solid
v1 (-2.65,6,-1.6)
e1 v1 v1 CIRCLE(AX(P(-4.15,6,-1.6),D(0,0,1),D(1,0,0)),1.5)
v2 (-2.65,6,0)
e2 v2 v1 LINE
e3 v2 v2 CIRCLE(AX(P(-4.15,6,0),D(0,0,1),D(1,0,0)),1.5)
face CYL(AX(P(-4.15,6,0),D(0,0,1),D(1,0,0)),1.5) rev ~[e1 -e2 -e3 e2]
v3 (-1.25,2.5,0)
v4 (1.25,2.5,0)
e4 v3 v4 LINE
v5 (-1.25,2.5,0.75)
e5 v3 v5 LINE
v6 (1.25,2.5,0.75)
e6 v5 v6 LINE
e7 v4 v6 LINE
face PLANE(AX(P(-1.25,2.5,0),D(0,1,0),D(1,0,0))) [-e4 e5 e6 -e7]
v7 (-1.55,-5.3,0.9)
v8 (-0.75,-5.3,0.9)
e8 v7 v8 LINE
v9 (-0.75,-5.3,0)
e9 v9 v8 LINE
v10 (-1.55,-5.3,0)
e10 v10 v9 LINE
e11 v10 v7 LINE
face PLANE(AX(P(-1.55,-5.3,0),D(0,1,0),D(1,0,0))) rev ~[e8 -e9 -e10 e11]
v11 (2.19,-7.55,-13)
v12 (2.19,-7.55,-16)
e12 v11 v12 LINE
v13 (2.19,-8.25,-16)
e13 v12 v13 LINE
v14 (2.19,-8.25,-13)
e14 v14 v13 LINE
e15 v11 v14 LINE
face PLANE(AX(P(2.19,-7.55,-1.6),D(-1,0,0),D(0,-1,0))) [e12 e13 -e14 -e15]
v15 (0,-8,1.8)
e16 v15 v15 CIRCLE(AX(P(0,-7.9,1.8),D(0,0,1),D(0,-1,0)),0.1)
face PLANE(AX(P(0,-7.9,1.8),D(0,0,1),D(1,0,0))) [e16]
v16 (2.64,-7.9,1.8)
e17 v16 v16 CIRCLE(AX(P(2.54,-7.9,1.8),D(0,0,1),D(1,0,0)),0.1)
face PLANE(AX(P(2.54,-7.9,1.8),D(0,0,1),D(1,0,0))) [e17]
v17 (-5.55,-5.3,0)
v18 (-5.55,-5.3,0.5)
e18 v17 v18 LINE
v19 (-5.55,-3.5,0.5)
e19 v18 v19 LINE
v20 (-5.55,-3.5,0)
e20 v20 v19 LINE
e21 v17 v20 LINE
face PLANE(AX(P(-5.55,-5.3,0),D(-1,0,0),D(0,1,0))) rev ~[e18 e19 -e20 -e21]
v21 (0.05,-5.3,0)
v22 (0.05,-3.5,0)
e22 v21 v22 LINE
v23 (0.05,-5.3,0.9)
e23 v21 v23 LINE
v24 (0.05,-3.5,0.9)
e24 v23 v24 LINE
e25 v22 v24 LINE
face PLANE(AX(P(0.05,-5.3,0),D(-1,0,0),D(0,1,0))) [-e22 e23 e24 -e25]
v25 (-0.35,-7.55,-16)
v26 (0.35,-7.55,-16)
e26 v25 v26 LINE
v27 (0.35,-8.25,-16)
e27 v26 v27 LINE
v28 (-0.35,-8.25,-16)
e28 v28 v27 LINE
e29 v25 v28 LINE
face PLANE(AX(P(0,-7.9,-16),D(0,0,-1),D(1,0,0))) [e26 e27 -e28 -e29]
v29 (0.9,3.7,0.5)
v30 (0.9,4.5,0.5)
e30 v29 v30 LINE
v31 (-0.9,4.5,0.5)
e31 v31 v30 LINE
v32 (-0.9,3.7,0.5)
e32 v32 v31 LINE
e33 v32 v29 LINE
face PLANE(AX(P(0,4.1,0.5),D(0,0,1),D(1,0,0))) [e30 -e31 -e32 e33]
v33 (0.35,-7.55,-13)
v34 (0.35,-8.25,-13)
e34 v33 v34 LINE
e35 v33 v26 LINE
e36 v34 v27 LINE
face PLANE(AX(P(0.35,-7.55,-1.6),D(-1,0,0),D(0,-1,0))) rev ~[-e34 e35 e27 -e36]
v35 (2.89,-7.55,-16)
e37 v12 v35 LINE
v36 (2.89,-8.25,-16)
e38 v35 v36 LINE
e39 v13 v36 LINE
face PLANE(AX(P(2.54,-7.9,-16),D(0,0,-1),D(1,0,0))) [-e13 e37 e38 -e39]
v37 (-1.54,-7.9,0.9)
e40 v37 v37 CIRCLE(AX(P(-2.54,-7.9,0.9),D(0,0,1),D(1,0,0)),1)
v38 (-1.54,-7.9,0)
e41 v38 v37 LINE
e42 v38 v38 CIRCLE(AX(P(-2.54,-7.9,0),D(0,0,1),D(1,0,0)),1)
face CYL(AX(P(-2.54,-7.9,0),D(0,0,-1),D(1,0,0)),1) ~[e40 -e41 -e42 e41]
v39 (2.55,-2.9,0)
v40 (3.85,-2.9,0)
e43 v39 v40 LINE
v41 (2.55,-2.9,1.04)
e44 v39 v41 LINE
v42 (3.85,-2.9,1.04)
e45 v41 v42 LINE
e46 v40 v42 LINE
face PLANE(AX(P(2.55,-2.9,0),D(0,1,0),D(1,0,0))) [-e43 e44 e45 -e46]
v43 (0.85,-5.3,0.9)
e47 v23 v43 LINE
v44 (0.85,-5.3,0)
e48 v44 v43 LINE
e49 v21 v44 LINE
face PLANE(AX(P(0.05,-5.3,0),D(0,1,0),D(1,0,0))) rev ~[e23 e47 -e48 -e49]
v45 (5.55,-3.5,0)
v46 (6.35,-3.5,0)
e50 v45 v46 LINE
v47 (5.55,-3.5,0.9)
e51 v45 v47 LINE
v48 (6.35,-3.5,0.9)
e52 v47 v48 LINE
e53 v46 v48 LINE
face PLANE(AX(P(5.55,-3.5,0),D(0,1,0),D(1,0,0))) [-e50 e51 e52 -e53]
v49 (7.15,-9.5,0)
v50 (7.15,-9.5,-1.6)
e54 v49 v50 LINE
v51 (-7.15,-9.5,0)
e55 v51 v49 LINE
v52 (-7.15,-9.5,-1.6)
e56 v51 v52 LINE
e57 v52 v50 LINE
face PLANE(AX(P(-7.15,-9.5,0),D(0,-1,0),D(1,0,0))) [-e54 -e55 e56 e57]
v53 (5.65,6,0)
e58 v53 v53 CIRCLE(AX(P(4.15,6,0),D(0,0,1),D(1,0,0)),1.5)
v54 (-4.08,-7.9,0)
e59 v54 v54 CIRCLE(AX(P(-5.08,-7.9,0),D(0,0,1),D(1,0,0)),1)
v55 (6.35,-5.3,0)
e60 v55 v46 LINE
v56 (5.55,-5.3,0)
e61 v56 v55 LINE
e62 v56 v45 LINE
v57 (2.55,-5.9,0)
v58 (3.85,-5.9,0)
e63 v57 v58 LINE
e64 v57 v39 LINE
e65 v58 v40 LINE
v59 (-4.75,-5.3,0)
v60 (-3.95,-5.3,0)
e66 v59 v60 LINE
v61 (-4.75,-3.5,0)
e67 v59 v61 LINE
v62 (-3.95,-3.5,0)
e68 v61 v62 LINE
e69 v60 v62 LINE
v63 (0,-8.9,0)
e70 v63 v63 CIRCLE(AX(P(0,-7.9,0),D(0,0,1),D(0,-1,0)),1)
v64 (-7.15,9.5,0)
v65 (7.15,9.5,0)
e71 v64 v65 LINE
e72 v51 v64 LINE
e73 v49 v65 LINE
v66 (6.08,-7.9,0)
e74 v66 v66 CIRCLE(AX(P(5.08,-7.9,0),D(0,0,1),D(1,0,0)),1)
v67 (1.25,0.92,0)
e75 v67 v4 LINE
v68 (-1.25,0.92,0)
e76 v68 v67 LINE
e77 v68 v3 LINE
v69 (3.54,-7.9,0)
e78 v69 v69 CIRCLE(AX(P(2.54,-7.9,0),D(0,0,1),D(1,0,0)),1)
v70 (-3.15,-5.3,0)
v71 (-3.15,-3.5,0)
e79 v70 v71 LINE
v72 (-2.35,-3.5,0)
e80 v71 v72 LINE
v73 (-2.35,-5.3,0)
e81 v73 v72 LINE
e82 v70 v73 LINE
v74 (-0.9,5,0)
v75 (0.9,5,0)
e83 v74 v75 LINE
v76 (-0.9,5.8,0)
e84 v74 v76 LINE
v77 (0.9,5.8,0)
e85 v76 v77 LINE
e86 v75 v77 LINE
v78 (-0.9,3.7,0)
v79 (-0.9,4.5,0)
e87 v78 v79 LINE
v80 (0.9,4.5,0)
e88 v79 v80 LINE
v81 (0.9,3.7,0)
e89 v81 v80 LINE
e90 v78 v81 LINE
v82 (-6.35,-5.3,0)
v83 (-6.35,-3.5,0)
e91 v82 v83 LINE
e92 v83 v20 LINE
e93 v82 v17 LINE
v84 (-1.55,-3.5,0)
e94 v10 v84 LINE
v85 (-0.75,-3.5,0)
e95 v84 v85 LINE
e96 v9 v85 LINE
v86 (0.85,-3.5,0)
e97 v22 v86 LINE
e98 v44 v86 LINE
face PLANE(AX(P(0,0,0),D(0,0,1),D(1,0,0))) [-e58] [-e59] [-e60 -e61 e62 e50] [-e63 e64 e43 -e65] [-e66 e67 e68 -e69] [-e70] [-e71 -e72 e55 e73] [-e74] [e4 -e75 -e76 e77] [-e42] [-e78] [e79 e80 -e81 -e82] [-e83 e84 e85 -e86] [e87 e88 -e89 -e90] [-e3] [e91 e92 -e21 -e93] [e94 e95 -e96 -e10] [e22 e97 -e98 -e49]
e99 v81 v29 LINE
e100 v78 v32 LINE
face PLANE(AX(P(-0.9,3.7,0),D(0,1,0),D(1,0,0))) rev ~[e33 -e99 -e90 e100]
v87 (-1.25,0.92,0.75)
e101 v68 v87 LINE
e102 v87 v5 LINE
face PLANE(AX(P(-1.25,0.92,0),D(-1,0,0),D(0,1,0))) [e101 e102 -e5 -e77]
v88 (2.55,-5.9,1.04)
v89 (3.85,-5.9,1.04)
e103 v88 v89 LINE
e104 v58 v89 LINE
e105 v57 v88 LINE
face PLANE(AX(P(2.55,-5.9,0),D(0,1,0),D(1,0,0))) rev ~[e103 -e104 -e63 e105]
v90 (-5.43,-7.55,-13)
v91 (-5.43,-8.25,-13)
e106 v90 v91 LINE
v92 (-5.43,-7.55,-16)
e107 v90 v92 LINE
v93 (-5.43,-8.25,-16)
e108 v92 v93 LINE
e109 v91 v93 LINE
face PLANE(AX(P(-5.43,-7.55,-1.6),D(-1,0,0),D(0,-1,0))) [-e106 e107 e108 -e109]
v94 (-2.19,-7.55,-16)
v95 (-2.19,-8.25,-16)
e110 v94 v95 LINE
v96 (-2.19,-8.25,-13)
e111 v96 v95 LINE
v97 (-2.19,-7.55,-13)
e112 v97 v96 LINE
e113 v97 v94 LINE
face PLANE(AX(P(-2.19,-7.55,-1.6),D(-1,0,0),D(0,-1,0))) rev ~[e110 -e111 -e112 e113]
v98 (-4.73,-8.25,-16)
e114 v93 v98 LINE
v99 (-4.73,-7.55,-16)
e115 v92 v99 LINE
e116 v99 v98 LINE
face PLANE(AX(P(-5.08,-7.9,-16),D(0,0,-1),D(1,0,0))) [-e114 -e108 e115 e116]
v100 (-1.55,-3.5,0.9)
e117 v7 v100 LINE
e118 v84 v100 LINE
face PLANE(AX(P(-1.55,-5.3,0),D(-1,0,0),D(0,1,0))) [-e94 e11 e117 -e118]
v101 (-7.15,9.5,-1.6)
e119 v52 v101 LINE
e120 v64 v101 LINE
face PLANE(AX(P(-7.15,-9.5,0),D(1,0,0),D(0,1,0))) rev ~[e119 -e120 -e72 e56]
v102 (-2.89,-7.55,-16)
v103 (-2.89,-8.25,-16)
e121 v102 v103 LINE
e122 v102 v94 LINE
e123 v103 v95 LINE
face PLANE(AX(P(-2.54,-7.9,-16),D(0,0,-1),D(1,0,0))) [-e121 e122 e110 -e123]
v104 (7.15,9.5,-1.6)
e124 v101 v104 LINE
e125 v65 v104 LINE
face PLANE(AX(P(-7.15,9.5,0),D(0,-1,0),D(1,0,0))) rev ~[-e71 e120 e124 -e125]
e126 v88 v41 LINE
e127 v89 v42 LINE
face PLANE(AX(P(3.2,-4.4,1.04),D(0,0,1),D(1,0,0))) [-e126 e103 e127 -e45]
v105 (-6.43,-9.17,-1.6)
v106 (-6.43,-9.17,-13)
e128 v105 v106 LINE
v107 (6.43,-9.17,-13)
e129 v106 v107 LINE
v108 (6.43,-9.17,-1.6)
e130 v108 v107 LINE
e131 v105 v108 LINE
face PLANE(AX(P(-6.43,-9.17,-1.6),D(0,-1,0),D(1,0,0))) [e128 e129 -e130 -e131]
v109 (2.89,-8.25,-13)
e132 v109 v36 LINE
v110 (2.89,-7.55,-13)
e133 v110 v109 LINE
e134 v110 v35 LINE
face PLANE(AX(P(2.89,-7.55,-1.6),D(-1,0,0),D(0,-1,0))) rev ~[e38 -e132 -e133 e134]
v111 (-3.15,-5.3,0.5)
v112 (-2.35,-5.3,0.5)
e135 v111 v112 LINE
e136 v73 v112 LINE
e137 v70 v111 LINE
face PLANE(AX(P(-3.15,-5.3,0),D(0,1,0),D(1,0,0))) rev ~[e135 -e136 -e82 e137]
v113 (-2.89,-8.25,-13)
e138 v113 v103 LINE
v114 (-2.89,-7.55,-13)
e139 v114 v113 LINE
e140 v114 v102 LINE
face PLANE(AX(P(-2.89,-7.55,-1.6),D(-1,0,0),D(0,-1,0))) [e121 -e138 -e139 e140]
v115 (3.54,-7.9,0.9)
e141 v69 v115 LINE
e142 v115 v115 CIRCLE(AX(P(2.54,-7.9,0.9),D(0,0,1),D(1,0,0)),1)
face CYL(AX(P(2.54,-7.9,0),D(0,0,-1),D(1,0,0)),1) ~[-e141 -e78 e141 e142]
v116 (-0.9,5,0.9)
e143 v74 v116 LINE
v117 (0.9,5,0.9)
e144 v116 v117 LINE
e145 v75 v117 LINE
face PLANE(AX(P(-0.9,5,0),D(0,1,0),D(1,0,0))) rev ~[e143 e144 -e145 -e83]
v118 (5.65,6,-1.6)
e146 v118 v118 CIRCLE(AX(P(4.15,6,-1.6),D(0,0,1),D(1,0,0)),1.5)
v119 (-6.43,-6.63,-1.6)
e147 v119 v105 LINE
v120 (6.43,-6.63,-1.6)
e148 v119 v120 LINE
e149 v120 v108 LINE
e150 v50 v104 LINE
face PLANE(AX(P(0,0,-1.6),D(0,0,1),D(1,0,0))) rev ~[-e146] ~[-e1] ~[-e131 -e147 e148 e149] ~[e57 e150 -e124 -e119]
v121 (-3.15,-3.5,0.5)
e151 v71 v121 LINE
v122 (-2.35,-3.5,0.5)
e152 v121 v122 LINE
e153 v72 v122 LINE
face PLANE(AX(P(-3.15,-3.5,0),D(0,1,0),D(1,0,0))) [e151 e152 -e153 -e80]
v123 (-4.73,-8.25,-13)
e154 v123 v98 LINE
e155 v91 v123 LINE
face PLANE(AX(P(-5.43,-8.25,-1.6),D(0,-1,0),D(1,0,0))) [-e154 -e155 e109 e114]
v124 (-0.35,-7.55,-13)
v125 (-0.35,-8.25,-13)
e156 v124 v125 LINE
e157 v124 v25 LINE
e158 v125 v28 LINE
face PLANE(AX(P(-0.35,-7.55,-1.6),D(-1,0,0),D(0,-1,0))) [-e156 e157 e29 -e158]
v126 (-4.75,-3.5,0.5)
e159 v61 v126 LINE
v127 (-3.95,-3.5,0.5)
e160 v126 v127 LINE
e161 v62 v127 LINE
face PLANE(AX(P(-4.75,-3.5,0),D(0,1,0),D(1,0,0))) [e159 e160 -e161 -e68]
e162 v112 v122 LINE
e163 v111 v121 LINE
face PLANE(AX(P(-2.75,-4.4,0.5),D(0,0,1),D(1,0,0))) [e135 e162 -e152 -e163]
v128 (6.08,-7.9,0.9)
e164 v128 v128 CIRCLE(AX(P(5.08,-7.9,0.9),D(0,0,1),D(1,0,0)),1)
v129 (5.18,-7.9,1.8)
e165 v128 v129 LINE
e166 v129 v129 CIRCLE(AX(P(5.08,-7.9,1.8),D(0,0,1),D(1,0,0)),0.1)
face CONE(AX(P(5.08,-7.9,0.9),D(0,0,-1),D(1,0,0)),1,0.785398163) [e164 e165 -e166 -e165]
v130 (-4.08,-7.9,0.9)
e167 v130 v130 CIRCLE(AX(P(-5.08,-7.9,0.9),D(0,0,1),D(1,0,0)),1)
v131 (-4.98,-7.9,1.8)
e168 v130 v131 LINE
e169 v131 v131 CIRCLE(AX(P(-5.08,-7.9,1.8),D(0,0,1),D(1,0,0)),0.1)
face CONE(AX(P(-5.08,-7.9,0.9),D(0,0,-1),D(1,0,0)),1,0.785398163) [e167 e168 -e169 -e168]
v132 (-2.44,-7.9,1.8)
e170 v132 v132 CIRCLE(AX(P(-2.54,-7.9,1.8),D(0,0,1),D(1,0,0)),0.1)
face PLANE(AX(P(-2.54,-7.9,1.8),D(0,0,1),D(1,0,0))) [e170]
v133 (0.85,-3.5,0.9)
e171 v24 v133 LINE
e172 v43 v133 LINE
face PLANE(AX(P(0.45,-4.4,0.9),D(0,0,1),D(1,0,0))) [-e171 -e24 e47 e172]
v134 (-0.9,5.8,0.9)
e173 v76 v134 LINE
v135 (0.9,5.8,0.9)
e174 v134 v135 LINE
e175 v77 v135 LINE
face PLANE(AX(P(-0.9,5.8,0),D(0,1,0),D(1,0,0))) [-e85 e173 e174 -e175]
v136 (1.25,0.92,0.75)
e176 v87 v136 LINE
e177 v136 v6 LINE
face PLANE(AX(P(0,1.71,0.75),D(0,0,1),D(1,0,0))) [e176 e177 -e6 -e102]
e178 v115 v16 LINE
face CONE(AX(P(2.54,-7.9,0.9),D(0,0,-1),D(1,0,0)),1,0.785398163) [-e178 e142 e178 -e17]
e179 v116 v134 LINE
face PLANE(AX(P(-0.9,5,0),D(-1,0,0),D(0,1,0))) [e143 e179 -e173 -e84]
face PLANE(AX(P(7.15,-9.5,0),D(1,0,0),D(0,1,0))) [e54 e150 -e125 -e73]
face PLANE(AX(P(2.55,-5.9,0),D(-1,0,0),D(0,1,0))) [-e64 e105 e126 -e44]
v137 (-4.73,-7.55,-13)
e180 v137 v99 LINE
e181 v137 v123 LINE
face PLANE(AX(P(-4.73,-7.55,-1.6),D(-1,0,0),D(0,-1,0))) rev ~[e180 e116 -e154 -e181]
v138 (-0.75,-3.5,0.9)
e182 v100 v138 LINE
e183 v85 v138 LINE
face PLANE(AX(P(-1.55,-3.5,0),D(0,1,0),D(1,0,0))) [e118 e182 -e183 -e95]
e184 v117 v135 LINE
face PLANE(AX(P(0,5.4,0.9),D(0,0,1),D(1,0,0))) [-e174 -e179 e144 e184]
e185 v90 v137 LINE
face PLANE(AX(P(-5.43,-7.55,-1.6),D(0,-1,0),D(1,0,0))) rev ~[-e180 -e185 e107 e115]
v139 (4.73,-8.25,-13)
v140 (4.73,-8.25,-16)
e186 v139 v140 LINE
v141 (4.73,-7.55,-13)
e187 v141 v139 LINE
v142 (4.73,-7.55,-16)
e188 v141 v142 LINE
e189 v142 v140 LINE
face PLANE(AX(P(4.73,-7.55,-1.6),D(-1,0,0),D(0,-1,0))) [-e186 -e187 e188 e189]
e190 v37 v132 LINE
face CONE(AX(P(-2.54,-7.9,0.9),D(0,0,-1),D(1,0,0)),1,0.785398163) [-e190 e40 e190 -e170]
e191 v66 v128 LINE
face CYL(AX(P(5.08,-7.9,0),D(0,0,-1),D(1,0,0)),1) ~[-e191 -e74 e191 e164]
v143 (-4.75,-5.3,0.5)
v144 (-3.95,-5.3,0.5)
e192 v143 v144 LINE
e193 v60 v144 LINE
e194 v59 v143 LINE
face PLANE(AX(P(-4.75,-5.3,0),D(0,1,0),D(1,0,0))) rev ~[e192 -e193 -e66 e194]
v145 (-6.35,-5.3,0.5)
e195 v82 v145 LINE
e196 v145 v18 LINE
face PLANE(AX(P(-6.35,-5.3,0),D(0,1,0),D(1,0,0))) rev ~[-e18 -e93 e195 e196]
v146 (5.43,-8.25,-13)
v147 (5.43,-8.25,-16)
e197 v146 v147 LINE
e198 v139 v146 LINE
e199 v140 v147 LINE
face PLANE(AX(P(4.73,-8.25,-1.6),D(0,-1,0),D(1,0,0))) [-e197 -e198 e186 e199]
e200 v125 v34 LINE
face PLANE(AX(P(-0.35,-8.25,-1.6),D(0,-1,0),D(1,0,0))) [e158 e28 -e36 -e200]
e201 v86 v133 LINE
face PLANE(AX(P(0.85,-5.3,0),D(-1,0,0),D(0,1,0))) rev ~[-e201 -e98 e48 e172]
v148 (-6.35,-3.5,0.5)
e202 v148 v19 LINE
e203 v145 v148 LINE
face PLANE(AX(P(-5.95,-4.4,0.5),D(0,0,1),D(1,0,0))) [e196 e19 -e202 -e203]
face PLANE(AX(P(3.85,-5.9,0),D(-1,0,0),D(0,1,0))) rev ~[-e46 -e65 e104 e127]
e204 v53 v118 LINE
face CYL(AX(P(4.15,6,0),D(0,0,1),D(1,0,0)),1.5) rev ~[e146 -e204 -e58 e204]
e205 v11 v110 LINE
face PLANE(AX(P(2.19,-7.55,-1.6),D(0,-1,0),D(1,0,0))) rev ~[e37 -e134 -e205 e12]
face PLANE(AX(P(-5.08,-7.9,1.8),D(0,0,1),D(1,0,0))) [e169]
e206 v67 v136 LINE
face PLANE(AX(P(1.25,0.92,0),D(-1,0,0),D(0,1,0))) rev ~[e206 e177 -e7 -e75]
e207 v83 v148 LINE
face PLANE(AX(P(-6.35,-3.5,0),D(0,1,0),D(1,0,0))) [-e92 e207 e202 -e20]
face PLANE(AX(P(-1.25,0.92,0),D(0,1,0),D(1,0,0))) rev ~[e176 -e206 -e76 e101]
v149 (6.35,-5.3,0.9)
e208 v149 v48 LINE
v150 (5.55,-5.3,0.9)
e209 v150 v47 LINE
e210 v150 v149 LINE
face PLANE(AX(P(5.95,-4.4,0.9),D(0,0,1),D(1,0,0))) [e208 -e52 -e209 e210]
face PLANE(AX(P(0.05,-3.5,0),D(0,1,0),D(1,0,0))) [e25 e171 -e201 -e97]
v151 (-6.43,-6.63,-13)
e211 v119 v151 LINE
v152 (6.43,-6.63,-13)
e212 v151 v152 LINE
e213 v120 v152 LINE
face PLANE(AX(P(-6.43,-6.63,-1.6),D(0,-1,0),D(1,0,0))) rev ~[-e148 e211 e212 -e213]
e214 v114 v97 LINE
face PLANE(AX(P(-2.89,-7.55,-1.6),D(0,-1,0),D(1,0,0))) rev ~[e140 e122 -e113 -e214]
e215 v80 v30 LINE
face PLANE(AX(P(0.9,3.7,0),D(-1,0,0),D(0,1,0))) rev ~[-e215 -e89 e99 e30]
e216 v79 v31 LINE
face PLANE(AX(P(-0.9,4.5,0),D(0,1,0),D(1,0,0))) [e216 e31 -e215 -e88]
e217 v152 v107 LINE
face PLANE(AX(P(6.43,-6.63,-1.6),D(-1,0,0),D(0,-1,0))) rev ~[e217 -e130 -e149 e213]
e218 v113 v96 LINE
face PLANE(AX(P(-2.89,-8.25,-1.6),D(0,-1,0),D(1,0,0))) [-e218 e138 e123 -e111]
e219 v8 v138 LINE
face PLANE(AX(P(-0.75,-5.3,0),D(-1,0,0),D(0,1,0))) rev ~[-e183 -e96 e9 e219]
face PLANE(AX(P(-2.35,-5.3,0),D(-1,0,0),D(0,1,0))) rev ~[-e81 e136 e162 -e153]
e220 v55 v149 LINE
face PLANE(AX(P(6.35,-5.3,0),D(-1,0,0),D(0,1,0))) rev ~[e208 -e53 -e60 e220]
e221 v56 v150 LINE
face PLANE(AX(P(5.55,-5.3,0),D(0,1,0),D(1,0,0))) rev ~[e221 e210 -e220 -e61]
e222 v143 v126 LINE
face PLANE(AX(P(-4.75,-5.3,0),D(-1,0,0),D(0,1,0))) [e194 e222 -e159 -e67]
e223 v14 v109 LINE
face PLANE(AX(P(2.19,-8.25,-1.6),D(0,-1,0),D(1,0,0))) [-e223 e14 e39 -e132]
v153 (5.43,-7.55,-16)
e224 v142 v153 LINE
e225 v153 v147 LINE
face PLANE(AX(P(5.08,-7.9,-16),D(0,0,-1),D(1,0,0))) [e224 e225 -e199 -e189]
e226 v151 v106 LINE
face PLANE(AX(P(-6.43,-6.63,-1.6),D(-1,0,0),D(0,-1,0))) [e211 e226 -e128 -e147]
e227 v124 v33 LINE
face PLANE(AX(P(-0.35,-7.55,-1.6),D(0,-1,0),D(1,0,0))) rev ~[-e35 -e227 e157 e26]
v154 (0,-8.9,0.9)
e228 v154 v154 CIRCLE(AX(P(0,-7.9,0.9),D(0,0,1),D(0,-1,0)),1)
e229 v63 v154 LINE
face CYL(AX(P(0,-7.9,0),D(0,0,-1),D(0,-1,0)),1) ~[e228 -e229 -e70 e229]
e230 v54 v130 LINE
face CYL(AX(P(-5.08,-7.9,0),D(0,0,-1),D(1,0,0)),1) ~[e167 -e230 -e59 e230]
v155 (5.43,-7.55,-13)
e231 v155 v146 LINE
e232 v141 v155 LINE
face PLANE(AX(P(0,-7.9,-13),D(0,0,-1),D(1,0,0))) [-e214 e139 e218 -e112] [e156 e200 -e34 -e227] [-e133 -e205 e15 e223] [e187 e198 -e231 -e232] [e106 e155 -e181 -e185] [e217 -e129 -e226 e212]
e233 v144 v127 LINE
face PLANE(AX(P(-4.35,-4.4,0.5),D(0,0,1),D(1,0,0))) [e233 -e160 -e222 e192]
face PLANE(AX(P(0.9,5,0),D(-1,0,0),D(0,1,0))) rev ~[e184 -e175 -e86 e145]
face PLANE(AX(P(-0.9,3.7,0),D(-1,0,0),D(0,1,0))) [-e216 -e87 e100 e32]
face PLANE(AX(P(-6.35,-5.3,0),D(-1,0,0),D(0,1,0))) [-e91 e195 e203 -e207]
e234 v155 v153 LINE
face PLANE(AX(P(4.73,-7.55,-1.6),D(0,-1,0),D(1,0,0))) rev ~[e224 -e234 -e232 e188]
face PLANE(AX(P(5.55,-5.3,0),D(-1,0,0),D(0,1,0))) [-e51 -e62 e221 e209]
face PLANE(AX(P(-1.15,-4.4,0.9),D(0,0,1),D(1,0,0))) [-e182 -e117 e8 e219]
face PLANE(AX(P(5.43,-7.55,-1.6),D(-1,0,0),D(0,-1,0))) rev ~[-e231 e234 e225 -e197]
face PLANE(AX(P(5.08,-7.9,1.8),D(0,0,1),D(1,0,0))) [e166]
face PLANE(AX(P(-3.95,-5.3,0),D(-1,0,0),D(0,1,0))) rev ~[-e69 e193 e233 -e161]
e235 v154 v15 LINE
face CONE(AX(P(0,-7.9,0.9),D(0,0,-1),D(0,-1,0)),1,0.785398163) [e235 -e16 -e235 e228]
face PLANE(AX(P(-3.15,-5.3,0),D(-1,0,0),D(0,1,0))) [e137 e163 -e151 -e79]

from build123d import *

# Parameters (mm, degrees)
F0_W      = 14.3
F0_H      = 19
F0_R      = 1
F0_W_2    = 0.8
F0_H_2    = 1.8
F0_W_3    = 1.3
F0_H_3    = 3
F0_W_4    = 2.5
F0_H_4    = 1.58
F0_W_5    = 1.8
F0_H_5    = 0.8
F0_R_2    = 1.5
F1_DEPTH  = 1.6
F2_DEPTH  = 0.75
F3_DEPTH  = 0.9
F4_DEPTH  = 0.5
F5_DEPTH  = 1.04
F6_DEPTH  = 1.8
F7_SIZE2  = 0.9
F7_SIZE   = 0.9
F8_W      = 0.7
F8_H      = 0.7
F9_DEPTH  = 14.4
F8_W_2    = 12.86
F8_H_2    = 2.54
F10_DEPTH = 11.4


with BuildPart() as f1:
    # F0 (on Top) → F1 (new body)
    with BuildSketch(Plane.XY):
        Rectangle(F0_W, F0_H)
        with Locations((-5.08, -7.9)):
            Circle(F0_R, mode=Mode.SUBTRACT)
        with Locations((-2.54, -7.9)):
            Circle(F0_R, mode=Mode.SUBTRACT)
        with BuildLine():
            ThreePointArc((0, -6.9), (1, -7.9), (0, -8.9))
            ThreePointArc((0, -8.9), (-1, -7.9), (0, -6.9))
        make_face(mode=Mode.SUBTRACT)
        with Locations((-5.95, -4.4)):
            Rectangle(F0_W_2, F0_H_2, mode=Mode.SUBTRACT)
        with Locations((-4.35, -4.4)):
            Rectangle(F0_W_2, F0_H_2, mode=Mode.SUBTRACT)
        with Locations((-2.75, -4.4)):
            Rectangle(F0_W_2, F0_H_2, mode=Mode.SUBTRACT)
        with Locations((-1.15, -4.4)):
            Rectangle(F0_W_2, F0_H_2, mode=Mode.SUBTRACT)
        with Locations((2.54, -7.9)):
            Circle(F0_R, mode=Mode.SUBTRACT)
        with Locations((5.08, -7.9)):
            Circle(F0_R, mode=Mode.SUBTRACT)
        with Locations((0.45, -4.4)):
            Rectangle(F0_W_2, F0_H_2, mode=Mode.SUBTRACT)
        with Locations((3.2, -4.4)):
            Rectangle(F0_W_3, F0_H_3, mode=Mode.SUBTRACT)
        with Locations((5.95, -4.4)):
            Rectangle(F0_W_2, F0_H_2, mode=Mode.SUBTRACT)
        with Locations((0, 1.71)):
            Rectangle(F0_W_4, F0_H_4, mode=Mode.SUBTRACT)
        with Locations((0, 4.1)):
            Rectangle(F0_W_5, F0_H_5, mode=Mode.SUBTRACT)
        with Locations((-4.15, 6)):
            Circle(F0_R_2, mode=Mode.SUBTRACT)
        with Locations((0, 5.4)):
            Rectangle(F0_W_5, F0_H_5, mode=Mode.SUBTRACT)
        with Locations((4.15, 6)):
            Circle(F0_R_2, mode=Mode.SUBTRACT)
        with Locations((0, 1.71)):
            Rectangle(F0_W_4, F0_H_4)
        with Locations((5.95, -4.4)):
            Rectangle(F0_W_2, F0_H_2)
        with Locations((3.2, -4.4)):
            Rectangle(F0_W_3, F0_H_3)
        with Locations((0.45, -4.4)):
            Rectangle(F0_W_2, F0_H_2)
        with Locations((-1.15, -4.4)):
            Rectangle(F0_W_2, F0_H_2)
        with Locations((-2.75, -4.4)):
            Rectangle(F0_W_2, F0_H_2)
        with Locations((-4.35, -4.4)):
            Rectangle(F0_W_2, F0_H_2)
        with Locations((-5.95, -4.4)):
            Rectangle(F0_W_2, F0_H_2)
        with Locations((0, 4.1)):
            Rectangle(F0_W_5, F0_H_5)
        with Locations((0, 5.4)):
            Rectangle(F0_W_5, F0_H_5)
        with Locations((-5.08, -7.9)):
            Circle(F0_R)
        with Locations((-2.54, -7.9)):
            Circle(F0_R)
        with BuildLine():
            ThreePointArc((0, -6.9), (-1, -7.9), (0, -8.9))
            ThreePointArc((0, -8.9), (1, -7.9), (0, -6.9))
        make_face()
        with Locations((2.54, -7.9)):
            Circle(F0_R)
        with Locations((5.08, -7.9)):
            Circle(F0_R)
    extrude(amount=-F1_DEPTH)

    # F0 (on Top) → F2 (join)
    with BuildSketch(Plane.XY):
        with Locations((0, 1.71)):
            Rectangle(F0_W_4, F0_H_4)
    extrude(amount=F2_DEPTH)

    # F0 (on Top) → F3 (join)
    with BuildSketch(Plane.XY):
        with Locations((0, 5.4)):
            Rectangle(F0_W_5, F0_H_5)
        with Locations((5.95, -4.4)):
            Rectangle(F0_W_2, F0_H_2)
        with Locations((0.45, -4.4)):
            Rectangle(F0_W_2, F0_H_2)
        with Locations((-1.15, -4.4)):
            Rectangle(F0_W_2, F0_H_2)
    extrude(amount=F3_DEPTH)

    # F0 (on Top) → F4 (join)
    with BuildSketch(Plane.XY):
        with Locations((0, 4.1)):
            Rectangle(F0_W_5, F0_H_5)
        with Locations((-2.75, -4.4)):
            Rectangle(F0_W_2, F0_H_2)
        with Locations((-4.35, -4.4)):
            Rectangle(F0_W_2, F0_H_2)
        with Locations((-5.95, -4.4)):
            Rectangle(F0_W_2, F0_H_2)
    extrude(amount=F4_DEPTH)

    # F0 (on Top) → F5 (join)
    with BuildSketch(Plane.XY):
        with Locations((3.2, -4.4)):
            Rectangle(F0_W_3, F0_H_3)
    extrude(amount=F5_DEPTH)

    # F0 (on Top) → F6 (join)
    with BuildSketch(Plane.XY):
        with Locations((-5.08, -7.9)):
            Circle(F0_R)
        with Locations((-2.54, -7.9)):
            Circle(F0_R)
        with BuildLine():
            ThreePointArc((0, -6.9), (-1, -7.9), (0, -8.9))
            ThreePointArc((0, -8.9), (1, -7.9), (0, -6.9))
        make_face()
        with Locations((2.54, -7.9)):
            Circle(F0_R)
        with Locations((5.08, -7.9)):
            Circle(F0_R)
    extrude(amount=F6_DEPTH)

    # F7
    f7_edges = [f1.edges().sort_by_distance(p)[0] for p in [
        (-6.08, -7.9, 1.8),
        (-3.54, -7.9, 1.8),
        (0, -6.9, 1.8),
        (1.54, -7.9, 1.8),
        (4.08, -7.9, 1.8),
    ]]
    chamfer(f7_edges, length=F7_SIZE, length2=F7_SIZE2)

    # F8 (on face) → F9 (join)
    with BuildSketch(Plane(origin=(0, 0, -1.6), x_dir=(1, 0, 0), z_dir=(0, 0, -1))):
        with Locations((-5.08, 7.9)):
            Rectangle(F8_W, F8_H)
        with Locations((-2.54, 7.9)):
            Rectangle(F8_W, F8_H)
        with Locations((0, 7.9)):
            Rectangle(F8_W, F8_H)
        with Locations((2.54, 7.9)):
            Rectangle(F8_W, F8_H)
        with Locations((5.08, 7.9)):
            Rectangle(F8_W, F8_H)
    extrude(amount=F9_DEPTH)

    # F8 (on face) → F10 (join)
    with BuildSketch(Plane(origin=(0, 0, -1.6), x_dir=(1, 0, 0), z_dir=(0, 0, -1))):
        with Locations((0, 7.9)):
            Rectangle(F8_W_2, F8_H_2)
        with Locations((-5.08, 7.9)):
            Rectangle(F8_W, F8_H, mode=Mode.SUBTRACT)
        with Locations((-2.54, 7.9)):
            Rectangle(F8_W, F8_H, mode=Mode.SUBTRACT)
        with Locations((0, 7.9)):
            Rectangle(F8_W, F8_H, mode=Mode.SUBTRACT)
        with Locations((2.54, 7.9)):
            Rectangle(F8_W, F8_H, mode=Mode.SUBTRACT)
        with Locations((5.08, 7.9)):
            Rectangle(F8_W, F8_H, mode=Mode.SUBTRACT)
    extrude(amount=F10_DEPTH)


solid = f1.part
